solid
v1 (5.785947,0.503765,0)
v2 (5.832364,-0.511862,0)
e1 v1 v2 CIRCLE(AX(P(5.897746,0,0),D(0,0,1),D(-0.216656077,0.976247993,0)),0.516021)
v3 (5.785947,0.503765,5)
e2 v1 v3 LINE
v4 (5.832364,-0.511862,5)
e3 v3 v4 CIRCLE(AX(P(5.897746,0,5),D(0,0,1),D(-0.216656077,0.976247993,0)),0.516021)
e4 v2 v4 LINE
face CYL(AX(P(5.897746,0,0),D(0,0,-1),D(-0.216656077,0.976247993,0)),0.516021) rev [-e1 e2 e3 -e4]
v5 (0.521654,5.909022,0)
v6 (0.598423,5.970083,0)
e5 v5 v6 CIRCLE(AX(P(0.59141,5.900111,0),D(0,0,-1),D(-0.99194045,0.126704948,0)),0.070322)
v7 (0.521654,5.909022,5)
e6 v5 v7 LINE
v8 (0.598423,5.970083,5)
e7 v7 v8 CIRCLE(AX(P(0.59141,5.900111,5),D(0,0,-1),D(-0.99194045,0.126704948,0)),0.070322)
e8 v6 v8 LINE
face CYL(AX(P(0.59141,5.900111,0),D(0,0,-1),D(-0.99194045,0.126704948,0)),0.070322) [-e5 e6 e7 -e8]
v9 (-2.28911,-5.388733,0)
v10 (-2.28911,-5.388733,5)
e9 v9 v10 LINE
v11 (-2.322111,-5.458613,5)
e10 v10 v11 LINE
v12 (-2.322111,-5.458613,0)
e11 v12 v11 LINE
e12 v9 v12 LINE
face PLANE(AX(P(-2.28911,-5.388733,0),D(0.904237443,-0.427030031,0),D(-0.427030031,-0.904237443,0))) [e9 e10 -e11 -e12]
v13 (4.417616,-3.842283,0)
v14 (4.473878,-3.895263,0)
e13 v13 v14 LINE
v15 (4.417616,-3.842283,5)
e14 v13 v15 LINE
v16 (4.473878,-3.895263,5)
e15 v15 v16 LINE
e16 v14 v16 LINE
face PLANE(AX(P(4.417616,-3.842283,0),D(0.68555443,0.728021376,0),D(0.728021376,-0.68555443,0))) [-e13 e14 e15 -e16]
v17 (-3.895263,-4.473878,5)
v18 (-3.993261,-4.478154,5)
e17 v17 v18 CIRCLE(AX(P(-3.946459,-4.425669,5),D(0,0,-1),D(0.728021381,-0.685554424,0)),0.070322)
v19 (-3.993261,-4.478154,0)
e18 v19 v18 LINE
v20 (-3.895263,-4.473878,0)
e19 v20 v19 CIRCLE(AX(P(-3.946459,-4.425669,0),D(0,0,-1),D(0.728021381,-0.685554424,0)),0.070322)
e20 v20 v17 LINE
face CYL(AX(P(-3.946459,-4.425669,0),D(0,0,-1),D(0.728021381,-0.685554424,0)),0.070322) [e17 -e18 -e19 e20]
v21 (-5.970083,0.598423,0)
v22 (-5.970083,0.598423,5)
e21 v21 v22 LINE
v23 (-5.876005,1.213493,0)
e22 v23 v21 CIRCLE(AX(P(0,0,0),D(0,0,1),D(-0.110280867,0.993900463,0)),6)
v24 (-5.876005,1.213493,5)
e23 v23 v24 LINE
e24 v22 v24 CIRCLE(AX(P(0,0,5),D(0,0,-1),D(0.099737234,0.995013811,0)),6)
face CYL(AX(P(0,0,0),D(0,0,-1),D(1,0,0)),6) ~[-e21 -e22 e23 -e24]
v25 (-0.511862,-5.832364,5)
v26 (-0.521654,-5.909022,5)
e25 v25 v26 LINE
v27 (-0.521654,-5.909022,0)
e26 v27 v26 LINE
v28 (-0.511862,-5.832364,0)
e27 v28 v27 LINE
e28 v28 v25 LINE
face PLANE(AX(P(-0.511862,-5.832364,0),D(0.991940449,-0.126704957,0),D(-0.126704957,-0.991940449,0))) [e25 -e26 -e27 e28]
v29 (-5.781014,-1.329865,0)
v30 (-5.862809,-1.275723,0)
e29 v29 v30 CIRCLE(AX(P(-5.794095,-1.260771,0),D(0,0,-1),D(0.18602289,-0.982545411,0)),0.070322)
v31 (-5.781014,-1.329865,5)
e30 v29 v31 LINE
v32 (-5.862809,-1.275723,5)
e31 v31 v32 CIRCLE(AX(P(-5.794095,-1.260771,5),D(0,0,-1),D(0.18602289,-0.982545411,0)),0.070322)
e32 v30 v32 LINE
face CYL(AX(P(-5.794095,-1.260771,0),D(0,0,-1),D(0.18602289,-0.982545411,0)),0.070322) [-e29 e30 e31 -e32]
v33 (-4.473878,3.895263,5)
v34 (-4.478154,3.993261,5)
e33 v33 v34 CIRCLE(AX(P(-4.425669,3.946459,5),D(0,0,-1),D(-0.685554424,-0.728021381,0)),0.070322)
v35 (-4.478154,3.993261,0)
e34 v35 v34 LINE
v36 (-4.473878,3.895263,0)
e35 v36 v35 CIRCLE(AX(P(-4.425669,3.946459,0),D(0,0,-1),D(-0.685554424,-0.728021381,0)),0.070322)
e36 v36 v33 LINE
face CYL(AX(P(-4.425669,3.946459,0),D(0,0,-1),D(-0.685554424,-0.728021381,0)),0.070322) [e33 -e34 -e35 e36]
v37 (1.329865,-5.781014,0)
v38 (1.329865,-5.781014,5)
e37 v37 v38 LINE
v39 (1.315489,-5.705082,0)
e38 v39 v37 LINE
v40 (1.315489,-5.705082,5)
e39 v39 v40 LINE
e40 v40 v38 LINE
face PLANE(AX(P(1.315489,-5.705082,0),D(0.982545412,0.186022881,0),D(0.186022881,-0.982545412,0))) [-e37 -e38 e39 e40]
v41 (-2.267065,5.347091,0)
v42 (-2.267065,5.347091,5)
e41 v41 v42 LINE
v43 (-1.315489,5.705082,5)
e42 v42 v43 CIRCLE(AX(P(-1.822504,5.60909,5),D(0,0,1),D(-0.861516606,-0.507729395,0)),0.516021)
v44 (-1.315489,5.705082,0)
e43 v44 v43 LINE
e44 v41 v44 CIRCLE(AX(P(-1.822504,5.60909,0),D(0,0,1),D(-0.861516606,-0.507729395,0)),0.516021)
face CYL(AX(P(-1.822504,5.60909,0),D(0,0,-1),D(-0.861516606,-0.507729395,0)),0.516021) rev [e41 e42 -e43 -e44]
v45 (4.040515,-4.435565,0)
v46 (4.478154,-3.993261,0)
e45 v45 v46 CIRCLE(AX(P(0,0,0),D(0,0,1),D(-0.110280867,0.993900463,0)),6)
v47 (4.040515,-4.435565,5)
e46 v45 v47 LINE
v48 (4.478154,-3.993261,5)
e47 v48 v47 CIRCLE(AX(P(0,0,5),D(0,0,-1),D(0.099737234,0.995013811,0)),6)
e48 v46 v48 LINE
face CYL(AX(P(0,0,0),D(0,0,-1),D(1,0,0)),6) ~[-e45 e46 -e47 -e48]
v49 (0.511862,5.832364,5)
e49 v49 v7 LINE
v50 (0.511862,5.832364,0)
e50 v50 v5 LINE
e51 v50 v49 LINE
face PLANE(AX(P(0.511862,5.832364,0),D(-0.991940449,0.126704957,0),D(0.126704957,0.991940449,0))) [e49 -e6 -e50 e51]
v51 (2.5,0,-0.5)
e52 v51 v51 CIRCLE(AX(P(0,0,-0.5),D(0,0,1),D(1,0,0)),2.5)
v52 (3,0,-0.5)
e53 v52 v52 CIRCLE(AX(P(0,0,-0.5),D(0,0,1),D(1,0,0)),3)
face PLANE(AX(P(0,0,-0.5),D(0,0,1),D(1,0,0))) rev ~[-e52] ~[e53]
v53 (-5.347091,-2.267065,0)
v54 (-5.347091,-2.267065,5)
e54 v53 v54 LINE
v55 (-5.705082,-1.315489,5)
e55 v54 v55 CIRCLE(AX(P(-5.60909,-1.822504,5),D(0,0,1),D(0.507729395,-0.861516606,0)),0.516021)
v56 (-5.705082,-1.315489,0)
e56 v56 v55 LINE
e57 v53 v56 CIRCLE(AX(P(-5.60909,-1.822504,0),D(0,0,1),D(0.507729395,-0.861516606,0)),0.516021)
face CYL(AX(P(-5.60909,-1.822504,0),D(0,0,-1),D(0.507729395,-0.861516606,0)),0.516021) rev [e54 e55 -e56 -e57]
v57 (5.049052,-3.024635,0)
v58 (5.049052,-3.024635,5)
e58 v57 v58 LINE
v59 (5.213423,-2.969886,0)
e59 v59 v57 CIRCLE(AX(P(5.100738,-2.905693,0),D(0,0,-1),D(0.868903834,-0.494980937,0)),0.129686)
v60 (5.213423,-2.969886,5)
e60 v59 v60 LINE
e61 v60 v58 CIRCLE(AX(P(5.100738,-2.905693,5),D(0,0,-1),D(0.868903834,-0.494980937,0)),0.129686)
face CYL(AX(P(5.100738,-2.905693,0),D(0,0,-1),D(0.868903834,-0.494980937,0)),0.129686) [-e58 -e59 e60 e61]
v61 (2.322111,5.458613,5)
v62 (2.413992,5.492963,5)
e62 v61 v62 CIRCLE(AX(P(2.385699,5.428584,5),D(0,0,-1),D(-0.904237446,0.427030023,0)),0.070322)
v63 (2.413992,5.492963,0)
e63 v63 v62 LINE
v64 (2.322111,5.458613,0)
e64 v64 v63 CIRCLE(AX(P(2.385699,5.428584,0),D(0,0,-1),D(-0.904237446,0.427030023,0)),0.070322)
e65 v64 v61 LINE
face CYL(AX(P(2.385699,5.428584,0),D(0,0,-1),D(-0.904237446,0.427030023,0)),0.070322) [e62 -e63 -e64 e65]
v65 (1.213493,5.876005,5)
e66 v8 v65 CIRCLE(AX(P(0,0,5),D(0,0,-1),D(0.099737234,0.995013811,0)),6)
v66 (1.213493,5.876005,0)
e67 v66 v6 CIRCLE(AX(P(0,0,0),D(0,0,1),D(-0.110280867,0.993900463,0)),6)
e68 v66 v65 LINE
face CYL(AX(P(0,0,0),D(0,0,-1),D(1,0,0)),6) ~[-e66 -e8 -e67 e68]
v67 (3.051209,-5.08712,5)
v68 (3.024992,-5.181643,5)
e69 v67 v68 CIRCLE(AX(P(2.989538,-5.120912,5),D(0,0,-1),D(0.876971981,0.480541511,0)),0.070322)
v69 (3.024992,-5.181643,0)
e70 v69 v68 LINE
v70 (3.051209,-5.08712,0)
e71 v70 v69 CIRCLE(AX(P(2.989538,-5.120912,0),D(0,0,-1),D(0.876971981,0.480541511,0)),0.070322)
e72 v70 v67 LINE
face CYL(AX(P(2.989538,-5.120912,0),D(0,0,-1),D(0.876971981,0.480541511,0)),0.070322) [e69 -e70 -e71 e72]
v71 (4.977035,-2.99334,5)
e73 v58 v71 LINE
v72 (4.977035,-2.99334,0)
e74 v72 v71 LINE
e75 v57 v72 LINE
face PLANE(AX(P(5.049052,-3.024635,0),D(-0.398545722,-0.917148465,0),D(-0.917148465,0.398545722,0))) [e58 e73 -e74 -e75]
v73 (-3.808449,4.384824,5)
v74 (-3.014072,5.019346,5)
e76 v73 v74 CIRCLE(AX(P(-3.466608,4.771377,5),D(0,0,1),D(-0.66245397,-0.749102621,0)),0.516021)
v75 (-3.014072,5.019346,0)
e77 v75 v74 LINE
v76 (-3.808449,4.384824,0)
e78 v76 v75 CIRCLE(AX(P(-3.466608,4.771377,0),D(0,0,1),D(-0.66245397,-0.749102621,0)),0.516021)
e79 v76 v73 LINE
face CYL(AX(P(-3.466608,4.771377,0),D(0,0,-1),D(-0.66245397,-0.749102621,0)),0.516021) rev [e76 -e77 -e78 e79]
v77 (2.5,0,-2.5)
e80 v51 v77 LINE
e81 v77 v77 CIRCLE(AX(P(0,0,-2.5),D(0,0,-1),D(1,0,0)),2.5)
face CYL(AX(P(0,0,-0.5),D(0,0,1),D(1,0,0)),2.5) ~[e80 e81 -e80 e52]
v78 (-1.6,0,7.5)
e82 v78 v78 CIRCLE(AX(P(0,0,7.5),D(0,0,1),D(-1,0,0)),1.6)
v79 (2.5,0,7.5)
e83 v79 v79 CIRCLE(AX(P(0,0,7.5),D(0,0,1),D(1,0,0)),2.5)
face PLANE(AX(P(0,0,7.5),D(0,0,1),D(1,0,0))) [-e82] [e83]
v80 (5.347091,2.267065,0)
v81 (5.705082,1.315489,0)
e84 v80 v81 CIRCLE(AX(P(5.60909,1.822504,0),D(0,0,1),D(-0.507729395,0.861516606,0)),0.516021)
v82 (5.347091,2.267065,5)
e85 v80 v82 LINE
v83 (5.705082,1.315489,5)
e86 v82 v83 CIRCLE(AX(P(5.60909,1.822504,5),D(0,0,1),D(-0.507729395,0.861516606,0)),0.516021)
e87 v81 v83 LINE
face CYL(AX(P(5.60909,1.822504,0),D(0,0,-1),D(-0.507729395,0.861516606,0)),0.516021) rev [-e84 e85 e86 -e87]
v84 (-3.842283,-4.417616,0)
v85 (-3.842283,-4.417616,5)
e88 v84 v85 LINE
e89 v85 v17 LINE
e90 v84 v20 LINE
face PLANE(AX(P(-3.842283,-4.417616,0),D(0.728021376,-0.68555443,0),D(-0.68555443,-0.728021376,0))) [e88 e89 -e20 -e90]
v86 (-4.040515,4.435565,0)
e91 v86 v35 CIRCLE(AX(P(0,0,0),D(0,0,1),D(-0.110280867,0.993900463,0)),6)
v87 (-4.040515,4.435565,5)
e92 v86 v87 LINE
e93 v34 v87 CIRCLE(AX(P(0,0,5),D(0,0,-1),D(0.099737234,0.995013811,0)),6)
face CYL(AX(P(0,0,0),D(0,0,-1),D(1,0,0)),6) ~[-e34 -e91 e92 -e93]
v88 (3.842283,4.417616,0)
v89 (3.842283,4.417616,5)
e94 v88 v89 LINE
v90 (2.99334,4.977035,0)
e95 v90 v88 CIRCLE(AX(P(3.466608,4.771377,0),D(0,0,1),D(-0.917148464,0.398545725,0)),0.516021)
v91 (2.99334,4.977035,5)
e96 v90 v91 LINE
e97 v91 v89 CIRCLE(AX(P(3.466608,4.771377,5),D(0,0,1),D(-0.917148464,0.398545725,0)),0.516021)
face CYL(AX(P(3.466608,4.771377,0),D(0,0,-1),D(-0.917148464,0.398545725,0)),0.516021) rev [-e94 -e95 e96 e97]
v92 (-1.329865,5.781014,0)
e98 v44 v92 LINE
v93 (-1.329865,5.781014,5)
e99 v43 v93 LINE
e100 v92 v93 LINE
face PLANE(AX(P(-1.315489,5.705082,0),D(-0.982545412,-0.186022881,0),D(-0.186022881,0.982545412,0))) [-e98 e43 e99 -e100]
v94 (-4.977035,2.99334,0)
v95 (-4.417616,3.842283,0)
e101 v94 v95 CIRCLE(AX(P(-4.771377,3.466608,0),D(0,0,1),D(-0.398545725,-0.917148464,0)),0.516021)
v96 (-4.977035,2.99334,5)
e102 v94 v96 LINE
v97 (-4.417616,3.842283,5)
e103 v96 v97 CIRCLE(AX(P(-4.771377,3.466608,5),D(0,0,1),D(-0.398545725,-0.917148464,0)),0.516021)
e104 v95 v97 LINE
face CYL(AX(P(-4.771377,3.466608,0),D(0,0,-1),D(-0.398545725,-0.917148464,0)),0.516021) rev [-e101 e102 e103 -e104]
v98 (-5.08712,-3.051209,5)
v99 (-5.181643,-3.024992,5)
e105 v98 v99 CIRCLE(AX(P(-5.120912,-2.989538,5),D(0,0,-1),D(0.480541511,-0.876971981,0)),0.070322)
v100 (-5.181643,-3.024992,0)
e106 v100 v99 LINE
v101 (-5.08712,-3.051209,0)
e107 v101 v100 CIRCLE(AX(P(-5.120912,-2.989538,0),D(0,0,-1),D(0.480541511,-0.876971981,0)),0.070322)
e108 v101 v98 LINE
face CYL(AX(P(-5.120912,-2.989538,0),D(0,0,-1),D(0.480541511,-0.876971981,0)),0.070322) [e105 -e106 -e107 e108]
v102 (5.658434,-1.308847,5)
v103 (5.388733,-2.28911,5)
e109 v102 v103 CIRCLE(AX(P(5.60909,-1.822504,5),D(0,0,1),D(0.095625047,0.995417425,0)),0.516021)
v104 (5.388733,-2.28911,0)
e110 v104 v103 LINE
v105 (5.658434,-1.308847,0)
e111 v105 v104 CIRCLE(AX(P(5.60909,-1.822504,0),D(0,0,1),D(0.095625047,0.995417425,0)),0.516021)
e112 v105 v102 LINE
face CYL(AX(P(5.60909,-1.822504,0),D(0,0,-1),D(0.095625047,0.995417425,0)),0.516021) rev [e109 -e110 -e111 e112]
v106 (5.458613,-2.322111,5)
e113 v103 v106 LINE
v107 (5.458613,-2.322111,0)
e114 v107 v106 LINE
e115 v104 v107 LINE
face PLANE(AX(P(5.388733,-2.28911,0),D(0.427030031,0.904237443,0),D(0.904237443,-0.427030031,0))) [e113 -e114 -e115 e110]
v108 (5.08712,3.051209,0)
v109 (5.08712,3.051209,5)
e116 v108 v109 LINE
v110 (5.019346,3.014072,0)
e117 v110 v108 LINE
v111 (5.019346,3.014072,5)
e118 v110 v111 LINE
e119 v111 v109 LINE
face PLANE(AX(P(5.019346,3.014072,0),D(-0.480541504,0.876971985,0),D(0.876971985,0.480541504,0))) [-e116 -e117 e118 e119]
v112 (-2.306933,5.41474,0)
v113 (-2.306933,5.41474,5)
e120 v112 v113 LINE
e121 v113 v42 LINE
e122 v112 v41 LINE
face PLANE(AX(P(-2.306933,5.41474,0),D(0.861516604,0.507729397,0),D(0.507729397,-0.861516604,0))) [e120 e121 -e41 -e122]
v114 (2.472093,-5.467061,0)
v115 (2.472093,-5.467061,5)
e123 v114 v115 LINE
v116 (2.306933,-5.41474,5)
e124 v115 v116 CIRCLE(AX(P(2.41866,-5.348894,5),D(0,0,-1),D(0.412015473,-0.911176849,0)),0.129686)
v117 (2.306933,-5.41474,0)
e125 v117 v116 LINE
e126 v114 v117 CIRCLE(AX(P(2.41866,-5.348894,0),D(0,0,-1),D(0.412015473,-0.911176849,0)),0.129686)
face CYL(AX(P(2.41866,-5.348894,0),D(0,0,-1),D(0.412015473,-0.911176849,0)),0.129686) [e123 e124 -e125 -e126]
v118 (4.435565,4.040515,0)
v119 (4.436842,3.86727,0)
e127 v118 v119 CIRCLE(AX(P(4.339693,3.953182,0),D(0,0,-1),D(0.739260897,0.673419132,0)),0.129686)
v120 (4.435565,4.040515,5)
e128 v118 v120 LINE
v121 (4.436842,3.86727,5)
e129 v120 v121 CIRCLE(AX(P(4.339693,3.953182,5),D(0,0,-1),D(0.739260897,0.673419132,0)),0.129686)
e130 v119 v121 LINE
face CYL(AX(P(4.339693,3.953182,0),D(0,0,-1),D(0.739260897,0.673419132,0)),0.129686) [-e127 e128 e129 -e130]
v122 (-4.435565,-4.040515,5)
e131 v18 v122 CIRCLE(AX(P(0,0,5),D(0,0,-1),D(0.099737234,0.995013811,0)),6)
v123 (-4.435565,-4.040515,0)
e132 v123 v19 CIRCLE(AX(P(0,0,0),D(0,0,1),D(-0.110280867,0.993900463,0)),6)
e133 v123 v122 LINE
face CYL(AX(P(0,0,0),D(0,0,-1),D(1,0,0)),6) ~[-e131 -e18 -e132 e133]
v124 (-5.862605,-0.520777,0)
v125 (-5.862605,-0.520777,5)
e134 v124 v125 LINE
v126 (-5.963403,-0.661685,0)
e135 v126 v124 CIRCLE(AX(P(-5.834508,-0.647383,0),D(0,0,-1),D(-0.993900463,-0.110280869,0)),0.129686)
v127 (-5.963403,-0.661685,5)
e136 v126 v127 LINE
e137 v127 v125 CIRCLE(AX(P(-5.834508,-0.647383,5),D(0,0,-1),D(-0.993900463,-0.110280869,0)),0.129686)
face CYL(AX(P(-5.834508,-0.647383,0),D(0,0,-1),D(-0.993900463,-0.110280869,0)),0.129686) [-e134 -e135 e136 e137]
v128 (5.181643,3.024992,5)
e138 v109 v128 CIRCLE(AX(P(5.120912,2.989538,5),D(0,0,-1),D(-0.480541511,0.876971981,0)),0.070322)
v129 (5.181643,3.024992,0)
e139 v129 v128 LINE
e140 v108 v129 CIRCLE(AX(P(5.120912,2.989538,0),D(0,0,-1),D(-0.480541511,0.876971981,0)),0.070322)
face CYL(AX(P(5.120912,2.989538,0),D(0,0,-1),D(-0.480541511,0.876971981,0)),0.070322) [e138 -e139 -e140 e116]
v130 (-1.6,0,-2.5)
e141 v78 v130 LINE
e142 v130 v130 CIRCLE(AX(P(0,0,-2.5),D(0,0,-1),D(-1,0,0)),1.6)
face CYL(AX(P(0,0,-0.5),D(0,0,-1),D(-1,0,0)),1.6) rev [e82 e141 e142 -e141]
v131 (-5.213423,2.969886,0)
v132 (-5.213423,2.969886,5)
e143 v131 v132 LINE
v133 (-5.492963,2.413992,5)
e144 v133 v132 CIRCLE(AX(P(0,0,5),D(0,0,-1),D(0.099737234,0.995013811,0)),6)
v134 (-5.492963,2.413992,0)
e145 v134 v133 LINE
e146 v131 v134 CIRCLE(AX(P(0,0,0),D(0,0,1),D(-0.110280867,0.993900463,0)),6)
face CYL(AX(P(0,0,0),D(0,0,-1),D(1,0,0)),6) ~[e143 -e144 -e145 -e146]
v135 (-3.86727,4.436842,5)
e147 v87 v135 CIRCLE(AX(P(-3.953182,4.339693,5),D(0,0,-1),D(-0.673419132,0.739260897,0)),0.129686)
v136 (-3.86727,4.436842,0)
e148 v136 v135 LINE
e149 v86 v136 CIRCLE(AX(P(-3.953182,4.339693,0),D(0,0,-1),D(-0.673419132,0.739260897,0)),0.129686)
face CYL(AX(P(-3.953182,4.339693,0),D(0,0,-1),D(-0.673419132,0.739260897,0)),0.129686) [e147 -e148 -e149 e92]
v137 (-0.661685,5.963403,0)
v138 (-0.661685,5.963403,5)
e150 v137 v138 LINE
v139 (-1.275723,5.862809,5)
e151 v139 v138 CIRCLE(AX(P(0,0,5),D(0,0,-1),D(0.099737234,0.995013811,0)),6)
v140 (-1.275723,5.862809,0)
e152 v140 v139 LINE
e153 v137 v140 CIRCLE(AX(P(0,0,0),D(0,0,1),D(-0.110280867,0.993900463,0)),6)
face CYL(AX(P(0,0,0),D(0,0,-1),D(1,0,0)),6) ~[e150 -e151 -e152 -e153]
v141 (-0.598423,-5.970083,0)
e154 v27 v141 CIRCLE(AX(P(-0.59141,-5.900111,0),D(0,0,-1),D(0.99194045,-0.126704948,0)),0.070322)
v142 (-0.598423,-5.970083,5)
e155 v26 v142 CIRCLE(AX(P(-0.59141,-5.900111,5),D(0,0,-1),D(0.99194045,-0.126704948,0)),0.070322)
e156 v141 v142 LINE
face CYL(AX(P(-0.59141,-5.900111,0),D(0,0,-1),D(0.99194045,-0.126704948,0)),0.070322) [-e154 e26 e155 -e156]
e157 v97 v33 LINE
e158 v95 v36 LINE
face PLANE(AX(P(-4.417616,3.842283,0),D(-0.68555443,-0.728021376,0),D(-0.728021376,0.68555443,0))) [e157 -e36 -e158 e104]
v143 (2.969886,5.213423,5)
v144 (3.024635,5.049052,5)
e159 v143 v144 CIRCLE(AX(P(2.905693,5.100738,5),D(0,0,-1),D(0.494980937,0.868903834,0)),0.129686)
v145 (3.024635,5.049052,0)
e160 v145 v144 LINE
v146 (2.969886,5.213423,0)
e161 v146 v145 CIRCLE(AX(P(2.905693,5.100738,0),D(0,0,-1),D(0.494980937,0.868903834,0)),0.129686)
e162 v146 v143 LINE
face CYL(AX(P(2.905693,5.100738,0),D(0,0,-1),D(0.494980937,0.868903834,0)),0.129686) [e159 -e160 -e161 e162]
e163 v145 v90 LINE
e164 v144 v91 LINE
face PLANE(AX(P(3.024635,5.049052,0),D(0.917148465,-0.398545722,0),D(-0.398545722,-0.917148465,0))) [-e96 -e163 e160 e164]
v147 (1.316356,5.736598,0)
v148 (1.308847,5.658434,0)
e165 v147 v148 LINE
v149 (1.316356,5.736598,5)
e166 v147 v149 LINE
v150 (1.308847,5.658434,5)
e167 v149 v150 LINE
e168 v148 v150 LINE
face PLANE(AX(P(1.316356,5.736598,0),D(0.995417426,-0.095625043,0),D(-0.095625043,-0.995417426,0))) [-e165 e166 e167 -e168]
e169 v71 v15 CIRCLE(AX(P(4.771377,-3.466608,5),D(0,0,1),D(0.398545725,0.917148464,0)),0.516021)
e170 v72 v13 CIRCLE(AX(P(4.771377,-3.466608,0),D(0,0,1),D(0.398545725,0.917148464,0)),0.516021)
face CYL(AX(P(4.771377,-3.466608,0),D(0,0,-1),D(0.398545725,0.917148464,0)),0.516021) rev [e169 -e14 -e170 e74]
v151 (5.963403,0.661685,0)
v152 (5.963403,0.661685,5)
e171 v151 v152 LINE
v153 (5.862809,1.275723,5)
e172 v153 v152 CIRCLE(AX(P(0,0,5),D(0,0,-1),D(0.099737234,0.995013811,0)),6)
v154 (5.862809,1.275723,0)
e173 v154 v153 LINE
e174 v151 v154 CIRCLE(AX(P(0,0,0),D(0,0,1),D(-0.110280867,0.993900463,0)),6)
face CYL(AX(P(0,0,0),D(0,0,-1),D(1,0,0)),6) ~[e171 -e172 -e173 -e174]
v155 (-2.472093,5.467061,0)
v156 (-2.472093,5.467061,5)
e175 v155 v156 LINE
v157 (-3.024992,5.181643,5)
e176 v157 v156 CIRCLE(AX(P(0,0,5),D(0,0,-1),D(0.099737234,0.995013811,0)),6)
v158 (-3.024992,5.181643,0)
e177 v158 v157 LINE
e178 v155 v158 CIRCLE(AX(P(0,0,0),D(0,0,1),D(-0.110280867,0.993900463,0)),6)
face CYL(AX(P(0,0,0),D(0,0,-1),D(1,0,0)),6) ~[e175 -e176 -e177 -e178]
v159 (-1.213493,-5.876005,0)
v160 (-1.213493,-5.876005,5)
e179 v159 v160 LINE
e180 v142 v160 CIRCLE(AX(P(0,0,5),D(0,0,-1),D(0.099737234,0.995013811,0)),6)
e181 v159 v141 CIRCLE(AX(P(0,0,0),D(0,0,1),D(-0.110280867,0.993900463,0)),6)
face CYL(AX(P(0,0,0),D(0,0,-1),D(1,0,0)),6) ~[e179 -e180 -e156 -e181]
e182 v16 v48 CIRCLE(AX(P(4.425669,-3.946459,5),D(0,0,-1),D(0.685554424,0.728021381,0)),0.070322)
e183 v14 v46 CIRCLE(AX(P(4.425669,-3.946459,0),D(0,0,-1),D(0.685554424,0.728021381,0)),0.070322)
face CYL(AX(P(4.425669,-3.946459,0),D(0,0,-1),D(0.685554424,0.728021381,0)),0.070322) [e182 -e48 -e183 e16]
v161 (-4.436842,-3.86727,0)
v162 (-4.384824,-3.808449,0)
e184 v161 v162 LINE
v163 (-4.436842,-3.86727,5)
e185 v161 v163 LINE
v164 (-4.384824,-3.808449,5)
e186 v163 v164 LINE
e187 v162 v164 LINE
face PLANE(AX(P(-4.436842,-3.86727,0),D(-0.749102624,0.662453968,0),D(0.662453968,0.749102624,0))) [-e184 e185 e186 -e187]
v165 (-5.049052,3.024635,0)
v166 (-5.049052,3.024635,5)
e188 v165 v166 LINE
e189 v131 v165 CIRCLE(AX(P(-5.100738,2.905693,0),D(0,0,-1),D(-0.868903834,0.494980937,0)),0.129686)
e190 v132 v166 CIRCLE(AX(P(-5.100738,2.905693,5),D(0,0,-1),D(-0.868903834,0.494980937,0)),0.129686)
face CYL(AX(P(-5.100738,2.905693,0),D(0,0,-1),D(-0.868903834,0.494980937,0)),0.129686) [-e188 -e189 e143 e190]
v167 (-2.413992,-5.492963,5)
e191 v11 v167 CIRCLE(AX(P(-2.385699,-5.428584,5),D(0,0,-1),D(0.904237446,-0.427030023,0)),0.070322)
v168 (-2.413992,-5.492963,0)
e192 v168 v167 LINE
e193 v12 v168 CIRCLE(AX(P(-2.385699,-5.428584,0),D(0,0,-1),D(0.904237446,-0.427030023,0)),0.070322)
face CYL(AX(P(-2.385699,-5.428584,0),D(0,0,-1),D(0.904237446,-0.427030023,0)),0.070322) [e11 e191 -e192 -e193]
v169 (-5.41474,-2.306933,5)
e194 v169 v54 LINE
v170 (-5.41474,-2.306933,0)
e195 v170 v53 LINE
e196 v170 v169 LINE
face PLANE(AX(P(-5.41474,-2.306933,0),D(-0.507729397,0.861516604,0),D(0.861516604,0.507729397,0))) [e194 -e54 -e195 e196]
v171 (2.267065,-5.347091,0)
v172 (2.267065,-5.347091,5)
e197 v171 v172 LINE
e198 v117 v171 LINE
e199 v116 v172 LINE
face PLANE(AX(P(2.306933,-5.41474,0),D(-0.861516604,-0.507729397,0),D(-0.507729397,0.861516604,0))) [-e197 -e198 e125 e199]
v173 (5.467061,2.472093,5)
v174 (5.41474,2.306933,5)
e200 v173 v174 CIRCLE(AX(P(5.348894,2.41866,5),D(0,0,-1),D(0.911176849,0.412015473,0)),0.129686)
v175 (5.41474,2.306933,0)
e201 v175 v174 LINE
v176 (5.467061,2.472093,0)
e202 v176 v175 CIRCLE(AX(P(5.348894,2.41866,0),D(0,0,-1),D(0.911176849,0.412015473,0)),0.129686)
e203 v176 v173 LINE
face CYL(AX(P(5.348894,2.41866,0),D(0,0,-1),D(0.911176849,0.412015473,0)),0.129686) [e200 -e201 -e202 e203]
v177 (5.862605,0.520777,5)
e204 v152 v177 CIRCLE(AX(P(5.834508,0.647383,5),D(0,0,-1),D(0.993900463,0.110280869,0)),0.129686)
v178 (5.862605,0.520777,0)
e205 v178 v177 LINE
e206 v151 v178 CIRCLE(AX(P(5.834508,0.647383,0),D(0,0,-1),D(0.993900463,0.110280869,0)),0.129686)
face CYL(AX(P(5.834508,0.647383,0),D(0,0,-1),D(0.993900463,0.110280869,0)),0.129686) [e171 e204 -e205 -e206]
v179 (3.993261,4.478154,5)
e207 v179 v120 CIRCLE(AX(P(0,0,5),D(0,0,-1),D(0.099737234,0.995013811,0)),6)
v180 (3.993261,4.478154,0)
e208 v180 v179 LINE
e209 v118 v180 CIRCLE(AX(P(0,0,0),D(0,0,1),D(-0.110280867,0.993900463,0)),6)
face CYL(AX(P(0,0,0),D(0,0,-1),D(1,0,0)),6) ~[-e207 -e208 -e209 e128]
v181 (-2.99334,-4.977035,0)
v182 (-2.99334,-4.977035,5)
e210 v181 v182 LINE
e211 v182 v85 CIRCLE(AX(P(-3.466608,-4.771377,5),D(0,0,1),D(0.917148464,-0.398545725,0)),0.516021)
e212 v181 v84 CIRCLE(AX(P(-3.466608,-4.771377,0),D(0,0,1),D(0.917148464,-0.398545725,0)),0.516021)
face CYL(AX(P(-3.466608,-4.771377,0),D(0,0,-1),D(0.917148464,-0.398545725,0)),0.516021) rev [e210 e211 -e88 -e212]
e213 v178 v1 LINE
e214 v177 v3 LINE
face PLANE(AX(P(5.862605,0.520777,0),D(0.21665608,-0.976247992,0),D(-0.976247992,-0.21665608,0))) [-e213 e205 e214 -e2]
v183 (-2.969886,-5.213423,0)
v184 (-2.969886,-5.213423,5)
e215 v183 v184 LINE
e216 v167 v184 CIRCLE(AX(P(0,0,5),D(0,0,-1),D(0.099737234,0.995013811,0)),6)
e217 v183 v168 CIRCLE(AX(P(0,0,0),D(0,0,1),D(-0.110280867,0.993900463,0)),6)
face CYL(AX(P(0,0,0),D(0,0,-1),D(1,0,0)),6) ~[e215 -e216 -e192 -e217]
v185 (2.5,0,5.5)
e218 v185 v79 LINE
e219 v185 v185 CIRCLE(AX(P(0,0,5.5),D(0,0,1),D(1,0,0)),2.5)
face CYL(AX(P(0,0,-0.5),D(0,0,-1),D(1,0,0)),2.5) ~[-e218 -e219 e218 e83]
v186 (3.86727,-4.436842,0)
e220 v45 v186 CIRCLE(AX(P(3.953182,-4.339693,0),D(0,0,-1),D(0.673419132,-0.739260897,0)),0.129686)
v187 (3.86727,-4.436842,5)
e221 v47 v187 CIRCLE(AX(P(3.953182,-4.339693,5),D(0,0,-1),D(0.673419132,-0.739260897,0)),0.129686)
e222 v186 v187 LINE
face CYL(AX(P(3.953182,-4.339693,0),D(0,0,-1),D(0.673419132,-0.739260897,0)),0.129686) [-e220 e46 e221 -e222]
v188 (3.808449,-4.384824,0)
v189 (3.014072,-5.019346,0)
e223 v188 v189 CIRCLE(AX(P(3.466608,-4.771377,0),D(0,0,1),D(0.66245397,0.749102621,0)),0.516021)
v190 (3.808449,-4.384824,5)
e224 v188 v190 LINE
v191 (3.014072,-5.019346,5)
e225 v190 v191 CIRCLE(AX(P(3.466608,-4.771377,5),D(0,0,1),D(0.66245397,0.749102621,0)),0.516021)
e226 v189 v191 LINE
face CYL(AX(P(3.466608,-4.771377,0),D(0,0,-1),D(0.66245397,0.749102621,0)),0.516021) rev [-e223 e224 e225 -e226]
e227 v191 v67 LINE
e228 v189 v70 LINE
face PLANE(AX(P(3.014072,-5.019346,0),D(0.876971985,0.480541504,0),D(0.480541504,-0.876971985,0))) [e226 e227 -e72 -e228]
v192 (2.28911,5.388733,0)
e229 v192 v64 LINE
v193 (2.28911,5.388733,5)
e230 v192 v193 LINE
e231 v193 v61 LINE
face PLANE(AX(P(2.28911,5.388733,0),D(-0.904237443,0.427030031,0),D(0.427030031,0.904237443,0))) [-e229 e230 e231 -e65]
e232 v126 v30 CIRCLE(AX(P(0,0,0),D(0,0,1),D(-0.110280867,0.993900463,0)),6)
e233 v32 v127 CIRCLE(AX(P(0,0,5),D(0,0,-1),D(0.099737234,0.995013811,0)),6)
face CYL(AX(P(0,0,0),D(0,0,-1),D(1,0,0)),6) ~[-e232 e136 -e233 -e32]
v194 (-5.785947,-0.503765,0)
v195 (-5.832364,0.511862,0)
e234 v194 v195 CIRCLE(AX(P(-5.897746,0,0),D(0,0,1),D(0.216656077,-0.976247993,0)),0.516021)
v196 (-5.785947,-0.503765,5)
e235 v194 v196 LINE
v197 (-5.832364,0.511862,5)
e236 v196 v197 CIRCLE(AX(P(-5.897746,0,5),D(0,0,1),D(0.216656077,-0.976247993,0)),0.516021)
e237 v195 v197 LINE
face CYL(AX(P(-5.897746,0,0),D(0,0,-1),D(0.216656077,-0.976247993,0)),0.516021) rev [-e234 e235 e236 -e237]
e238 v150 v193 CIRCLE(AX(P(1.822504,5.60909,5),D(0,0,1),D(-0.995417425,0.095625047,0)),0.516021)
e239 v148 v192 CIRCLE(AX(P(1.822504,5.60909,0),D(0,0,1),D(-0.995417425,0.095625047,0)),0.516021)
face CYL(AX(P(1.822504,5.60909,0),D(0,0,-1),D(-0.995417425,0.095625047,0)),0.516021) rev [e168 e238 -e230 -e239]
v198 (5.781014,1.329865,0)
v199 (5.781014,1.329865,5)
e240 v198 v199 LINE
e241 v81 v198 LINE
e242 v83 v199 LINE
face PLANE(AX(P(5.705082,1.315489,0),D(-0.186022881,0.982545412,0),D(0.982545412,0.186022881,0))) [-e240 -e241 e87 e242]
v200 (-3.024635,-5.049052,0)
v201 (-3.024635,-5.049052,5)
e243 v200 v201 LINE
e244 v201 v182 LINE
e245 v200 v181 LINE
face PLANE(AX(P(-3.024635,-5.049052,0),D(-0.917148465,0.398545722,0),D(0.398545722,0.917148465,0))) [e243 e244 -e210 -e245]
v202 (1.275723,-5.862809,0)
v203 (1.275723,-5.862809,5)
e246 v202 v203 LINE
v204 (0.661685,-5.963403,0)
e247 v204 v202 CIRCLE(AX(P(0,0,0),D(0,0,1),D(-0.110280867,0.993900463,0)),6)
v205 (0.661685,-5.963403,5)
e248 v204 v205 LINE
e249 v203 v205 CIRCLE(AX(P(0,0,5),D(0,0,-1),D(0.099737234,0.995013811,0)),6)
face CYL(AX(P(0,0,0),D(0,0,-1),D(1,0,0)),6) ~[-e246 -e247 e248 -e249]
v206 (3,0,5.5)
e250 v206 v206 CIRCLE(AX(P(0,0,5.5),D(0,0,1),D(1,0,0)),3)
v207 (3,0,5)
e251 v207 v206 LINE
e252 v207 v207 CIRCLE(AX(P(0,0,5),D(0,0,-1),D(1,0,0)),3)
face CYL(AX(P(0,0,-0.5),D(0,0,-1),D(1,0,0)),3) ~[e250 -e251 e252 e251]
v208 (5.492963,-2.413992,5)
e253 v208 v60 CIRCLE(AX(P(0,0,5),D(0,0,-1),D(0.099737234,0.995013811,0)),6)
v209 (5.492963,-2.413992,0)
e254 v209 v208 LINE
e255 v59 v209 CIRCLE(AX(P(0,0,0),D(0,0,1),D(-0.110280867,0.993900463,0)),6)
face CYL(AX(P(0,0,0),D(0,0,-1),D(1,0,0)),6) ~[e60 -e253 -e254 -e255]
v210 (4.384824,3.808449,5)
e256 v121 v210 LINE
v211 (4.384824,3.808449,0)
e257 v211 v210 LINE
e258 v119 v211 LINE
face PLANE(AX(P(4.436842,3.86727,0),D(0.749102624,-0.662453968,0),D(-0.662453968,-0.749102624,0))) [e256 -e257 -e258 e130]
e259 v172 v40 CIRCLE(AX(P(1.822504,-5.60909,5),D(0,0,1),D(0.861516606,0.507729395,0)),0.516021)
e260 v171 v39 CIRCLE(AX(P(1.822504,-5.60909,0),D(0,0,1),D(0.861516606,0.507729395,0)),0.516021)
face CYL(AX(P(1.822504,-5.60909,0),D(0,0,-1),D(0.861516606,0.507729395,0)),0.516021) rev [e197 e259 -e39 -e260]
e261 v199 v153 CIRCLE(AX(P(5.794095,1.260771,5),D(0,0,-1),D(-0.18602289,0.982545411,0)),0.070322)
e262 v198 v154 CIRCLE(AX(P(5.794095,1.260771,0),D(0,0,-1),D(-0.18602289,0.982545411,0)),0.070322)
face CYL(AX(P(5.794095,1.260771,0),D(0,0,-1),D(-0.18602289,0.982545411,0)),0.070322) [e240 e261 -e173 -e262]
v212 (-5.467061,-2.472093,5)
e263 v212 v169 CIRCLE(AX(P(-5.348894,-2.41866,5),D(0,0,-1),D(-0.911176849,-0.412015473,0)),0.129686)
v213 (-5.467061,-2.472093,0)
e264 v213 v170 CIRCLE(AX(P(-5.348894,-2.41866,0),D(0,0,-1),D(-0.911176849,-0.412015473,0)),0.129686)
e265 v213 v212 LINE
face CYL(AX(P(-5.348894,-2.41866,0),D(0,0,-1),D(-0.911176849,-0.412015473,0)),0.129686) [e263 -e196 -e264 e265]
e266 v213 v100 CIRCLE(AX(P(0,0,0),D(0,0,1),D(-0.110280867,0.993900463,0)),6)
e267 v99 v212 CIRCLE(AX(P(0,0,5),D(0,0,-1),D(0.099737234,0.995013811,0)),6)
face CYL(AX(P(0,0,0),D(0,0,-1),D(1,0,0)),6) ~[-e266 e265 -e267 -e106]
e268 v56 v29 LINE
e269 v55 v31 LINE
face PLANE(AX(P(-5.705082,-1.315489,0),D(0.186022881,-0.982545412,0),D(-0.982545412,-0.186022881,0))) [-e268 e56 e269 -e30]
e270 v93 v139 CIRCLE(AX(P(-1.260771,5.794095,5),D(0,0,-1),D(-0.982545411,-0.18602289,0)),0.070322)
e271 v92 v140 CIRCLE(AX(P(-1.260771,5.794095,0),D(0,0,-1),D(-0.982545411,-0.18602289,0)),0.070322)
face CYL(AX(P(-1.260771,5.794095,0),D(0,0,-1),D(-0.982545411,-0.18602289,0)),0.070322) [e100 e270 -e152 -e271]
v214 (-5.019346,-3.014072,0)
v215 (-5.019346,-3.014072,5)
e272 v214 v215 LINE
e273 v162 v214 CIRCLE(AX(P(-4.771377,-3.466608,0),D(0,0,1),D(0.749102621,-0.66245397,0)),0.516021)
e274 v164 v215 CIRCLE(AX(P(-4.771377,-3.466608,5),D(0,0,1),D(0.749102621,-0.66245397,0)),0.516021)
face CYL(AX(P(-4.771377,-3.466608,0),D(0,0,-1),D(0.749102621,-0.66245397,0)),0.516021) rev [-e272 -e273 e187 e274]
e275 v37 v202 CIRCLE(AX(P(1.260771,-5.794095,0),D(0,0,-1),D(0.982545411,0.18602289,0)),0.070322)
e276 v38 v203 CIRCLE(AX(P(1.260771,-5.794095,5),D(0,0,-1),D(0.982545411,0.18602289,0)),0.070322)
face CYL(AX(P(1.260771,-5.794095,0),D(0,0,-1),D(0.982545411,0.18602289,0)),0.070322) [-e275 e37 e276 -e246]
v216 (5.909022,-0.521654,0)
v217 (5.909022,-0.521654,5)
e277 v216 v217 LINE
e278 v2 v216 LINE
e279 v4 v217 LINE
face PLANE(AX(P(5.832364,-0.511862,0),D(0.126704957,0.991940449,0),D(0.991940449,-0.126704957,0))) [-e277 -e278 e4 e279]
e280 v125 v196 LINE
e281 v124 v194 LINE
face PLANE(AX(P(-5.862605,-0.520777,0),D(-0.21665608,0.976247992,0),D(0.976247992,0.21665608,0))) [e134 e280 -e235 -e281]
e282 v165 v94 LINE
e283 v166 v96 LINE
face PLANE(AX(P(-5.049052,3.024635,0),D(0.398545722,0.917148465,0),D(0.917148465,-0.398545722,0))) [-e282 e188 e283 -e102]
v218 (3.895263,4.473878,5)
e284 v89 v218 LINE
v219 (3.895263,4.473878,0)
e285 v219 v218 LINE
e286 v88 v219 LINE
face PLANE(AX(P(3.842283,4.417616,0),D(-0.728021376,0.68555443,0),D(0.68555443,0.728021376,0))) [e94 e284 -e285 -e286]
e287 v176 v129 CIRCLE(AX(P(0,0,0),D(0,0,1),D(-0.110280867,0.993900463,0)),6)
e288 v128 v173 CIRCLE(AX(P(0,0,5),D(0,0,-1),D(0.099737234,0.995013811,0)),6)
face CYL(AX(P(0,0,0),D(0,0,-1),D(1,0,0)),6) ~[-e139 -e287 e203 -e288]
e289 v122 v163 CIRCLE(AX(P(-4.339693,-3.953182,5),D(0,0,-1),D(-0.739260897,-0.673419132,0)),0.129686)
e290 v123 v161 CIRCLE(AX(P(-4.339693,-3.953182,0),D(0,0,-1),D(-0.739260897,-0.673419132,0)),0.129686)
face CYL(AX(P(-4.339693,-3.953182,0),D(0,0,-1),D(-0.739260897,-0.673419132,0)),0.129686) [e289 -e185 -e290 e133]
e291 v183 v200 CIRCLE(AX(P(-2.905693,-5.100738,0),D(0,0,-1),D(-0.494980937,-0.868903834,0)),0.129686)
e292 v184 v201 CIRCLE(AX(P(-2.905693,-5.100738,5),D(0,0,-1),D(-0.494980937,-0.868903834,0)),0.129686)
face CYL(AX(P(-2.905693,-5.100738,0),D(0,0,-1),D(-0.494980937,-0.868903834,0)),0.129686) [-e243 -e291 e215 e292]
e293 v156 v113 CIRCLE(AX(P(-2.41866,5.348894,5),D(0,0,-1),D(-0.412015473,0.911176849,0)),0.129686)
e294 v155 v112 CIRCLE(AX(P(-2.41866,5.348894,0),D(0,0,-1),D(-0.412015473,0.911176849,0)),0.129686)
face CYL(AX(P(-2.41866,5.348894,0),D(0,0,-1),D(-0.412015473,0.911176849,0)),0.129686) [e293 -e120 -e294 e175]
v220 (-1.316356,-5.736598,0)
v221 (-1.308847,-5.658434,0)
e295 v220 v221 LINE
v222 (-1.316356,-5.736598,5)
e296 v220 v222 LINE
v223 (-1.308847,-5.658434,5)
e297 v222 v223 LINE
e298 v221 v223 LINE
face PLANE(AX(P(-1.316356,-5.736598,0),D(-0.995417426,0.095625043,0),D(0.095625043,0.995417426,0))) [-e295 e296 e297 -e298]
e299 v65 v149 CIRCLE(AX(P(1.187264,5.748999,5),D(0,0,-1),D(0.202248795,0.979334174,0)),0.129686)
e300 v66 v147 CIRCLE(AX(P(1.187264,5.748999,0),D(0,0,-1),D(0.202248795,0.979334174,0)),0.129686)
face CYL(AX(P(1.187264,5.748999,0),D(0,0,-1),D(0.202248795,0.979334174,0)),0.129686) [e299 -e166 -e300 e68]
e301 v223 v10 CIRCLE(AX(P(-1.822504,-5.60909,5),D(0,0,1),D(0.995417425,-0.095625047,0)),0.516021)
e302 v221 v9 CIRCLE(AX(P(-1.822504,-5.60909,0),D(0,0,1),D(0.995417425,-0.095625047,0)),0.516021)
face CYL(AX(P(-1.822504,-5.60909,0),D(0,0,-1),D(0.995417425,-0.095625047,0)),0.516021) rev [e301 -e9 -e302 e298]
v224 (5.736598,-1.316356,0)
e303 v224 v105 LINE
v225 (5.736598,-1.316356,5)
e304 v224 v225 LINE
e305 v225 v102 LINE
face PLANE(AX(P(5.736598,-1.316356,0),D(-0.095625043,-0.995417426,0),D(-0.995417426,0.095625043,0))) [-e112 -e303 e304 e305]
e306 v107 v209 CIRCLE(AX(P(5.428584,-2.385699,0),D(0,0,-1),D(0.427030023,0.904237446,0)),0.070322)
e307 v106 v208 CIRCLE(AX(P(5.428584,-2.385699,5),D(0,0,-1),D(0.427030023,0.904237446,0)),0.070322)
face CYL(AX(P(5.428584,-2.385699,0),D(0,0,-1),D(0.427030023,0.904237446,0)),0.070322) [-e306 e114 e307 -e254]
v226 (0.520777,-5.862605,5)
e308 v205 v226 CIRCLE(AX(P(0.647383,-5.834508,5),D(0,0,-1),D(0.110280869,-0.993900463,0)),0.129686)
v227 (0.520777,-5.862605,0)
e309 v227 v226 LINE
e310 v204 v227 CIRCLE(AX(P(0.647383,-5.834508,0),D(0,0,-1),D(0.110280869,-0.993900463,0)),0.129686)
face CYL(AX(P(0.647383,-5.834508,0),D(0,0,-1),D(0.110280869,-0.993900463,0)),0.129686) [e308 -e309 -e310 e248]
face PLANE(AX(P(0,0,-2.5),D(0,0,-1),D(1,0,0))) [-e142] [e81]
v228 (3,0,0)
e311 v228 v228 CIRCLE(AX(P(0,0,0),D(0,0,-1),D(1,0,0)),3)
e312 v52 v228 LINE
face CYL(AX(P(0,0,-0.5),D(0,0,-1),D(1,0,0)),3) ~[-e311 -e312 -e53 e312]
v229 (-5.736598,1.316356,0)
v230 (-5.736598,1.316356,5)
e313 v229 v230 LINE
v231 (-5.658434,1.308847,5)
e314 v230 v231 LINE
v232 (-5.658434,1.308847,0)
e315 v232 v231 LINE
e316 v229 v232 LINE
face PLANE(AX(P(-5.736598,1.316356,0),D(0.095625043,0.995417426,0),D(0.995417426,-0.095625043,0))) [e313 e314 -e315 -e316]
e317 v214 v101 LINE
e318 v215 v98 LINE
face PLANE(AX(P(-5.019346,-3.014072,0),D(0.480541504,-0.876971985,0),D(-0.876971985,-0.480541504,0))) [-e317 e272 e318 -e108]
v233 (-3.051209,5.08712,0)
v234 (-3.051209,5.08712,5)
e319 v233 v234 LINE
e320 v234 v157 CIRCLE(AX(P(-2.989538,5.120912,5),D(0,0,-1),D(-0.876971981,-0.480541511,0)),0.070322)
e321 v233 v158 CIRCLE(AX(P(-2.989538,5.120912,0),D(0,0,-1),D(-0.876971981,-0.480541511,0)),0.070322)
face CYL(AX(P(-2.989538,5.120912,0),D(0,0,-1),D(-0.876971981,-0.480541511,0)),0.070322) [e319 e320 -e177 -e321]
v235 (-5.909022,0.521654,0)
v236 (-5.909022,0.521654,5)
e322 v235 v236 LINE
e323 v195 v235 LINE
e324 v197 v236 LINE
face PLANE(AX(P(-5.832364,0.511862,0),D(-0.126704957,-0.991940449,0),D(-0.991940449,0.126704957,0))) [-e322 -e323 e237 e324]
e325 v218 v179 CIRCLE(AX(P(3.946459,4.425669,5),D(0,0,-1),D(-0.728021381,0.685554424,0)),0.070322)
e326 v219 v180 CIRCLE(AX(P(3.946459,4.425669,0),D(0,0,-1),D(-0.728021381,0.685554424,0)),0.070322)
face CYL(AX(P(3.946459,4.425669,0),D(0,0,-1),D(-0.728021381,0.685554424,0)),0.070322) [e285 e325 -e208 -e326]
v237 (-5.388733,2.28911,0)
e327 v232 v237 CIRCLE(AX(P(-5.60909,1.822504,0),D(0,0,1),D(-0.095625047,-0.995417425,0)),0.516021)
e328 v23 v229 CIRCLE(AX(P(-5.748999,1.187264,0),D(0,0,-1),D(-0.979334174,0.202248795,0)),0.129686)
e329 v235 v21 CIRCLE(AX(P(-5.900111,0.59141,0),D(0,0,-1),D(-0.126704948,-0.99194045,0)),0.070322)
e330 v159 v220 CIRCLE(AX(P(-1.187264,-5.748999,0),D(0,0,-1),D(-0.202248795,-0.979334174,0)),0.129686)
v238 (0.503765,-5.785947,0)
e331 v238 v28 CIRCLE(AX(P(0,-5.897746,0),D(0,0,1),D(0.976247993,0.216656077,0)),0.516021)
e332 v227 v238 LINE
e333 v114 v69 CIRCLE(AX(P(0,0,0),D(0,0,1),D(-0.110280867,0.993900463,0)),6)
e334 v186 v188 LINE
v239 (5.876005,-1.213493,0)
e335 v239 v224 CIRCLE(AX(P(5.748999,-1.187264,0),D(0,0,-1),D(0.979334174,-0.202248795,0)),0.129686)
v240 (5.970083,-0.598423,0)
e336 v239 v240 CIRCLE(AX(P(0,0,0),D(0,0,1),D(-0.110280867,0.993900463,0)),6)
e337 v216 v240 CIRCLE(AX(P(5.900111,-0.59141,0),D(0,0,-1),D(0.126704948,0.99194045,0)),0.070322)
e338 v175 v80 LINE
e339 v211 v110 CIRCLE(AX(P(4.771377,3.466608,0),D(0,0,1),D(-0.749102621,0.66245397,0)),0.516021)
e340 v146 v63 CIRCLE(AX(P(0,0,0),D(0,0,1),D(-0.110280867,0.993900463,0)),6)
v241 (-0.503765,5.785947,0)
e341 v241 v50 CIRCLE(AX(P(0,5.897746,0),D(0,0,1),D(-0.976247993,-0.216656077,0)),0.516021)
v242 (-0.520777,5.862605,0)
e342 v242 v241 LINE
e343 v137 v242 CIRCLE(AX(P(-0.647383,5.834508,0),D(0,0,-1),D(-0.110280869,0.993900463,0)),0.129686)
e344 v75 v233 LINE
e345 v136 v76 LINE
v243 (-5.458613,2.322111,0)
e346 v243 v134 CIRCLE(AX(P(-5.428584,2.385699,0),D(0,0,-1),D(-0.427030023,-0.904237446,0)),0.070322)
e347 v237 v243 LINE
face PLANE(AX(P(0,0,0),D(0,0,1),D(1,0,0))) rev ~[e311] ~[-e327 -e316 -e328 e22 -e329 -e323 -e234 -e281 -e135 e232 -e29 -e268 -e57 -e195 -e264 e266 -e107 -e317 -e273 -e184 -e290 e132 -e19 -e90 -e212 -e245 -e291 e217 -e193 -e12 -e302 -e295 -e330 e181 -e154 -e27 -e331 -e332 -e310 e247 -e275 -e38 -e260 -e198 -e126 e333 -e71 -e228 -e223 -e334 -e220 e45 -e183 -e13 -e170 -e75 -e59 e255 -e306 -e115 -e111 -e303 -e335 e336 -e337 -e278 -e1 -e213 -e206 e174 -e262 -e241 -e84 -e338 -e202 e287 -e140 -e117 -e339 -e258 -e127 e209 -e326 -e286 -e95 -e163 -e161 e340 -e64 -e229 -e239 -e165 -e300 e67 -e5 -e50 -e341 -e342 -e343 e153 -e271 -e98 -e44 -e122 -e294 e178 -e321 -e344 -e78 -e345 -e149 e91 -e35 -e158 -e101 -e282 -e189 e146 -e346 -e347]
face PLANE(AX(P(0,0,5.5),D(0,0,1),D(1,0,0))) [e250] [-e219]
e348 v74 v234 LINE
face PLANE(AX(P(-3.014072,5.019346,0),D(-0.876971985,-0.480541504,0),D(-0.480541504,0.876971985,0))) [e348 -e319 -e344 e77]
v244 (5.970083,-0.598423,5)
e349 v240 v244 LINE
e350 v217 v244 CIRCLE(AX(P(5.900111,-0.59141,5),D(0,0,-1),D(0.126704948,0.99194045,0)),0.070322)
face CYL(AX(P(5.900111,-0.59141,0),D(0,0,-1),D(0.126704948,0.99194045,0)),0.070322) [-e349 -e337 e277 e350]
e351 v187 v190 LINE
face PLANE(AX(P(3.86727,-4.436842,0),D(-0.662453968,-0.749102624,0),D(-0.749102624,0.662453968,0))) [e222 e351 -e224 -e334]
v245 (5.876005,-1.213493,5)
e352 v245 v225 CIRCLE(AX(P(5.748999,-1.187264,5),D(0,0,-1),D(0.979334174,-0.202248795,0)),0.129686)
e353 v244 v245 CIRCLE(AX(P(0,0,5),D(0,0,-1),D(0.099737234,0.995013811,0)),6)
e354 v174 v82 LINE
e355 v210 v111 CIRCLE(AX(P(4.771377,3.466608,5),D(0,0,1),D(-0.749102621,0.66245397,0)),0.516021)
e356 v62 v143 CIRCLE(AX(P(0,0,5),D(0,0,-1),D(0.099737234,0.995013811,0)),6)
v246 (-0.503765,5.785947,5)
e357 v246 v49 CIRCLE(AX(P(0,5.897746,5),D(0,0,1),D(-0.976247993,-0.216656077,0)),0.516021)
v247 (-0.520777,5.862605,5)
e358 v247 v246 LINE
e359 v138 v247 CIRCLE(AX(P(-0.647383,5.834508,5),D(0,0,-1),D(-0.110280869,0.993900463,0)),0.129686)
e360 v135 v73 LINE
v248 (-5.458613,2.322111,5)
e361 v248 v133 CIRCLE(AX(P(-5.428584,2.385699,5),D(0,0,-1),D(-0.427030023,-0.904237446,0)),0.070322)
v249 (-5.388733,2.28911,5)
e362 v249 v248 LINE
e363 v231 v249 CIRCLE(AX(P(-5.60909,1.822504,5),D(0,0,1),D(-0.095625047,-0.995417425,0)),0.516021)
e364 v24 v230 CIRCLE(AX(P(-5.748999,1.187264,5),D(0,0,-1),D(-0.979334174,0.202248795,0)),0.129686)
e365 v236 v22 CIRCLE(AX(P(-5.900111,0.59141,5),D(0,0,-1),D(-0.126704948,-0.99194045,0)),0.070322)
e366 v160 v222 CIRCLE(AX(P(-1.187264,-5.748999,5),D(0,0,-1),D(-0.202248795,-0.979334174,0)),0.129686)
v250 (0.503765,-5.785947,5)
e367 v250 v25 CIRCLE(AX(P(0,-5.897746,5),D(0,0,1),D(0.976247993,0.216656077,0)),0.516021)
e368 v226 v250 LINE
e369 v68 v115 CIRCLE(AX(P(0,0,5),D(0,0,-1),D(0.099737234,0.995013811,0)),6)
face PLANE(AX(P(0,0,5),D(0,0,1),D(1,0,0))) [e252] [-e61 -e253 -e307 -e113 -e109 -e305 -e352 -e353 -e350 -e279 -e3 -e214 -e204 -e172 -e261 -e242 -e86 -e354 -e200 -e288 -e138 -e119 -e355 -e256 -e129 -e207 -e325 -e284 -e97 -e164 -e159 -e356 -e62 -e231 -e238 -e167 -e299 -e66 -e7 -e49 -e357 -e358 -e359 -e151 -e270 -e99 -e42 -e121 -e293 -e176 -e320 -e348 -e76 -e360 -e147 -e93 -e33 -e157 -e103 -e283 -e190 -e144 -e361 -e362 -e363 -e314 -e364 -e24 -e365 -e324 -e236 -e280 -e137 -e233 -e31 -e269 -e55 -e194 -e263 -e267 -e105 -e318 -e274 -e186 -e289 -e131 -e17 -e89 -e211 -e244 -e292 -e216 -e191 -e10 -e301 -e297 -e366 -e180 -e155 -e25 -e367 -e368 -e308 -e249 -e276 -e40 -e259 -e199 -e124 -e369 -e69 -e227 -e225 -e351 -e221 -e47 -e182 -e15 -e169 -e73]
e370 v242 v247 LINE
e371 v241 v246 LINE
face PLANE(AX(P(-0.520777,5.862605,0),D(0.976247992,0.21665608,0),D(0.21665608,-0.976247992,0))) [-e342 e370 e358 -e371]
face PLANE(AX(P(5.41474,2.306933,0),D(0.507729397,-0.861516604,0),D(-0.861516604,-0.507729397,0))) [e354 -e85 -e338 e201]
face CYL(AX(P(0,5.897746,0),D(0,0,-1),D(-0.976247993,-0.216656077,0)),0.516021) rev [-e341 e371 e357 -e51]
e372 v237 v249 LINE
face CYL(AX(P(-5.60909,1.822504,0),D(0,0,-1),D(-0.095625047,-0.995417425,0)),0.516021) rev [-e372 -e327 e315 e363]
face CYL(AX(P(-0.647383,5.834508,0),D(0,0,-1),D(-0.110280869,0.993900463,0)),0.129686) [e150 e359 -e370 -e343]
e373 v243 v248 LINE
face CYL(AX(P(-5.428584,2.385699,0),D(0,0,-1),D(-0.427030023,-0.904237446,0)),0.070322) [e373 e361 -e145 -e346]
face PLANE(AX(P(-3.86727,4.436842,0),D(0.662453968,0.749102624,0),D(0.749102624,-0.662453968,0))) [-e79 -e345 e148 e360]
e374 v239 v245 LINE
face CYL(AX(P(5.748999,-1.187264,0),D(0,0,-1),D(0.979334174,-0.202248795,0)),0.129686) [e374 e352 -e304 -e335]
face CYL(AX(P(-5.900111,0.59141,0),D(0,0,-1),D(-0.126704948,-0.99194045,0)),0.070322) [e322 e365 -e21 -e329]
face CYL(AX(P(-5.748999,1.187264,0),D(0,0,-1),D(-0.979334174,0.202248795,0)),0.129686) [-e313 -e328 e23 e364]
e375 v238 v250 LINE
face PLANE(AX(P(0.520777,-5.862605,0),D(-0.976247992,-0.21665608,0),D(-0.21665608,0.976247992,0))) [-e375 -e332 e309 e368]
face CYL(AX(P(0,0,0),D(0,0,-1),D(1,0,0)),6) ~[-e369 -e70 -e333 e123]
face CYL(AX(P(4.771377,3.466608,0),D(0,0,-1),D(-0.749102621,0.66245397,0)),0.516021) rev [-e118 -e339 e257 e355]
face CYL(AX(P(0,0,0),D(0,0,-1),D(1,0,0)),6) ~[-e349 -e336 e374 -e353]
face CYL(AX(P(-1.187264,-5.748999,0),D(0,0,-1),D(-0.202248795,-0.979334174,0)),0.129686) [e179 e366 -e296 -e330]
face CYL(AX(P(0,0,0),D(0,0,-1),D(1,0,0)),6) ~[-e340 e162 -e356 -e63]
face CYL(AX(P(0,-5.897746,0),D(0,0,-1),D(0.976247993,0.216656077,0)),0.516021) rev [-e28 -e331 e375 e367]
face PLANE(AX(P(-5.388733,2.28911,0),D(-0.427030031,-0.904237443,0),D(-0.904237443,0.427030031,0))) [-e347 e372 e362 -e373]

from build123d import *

# Parameters (mm, degrees)
SKETCH_1_R               = 6
SKETCH_1_R_2             = 2.5
EXTRUDE_1_DEPTH          = 5
CUT_EXTRUDE_START        = -5
CUT_EXTRUDE_1_DEPTH      = 5
PATTERN_CIRCULAR_1_COUNT = 20
EXTRUDE_START            = -5.5
SKETCH_3_R               = 3
SKETCH_3_R_2             = 2.5
EXTRUDE_2_DEPTH          = 6
SKETCH_4_R               = 2.5
SKETCH_4_R_2             = 1.6
EXTRUDE_3_DEPTH          = 2
SKETCH_5_R               = 2.5
SKETCH_5_R_2             = 1.6
EXTRUDE_4_DEPTH          = 8


with BuildPart() as part:
    # 草图1 → 凸台-拉伸1 (new body)
    with BuildSketch(Plane.XY):
        Circle(SKETCH_1_R)
        Circle(SKETCH_1_R_2, mode=Mode.SUBTRACT)
    extrude(amount=EXTRUDE_1_DEPTH)

    # 草图2 → 切除-拉伸1 (cut)
    with BuildSketch(Plane.XY.offset(5).offset(CUT_EXTRUDE_START)):
        with BuildLine():
            Line((0.511862463, 5.832363511), (0.521654336, 5.909021561))
            ThreePointArc((0.521654336, 5.909021561), (0.547634704, 5.955147301), (0.598423406, 5.970082866))
            ThreePointArc((0.598423406, 5.970082866), (-0.031806753, 5.999915694), (-0.661685201, 5.963402778))
            ThreePointArc((-0.661685201, 5.963402778), (-0.571930624, 5.939984659), (-0.520777334, 5.862604859))
            Line((-0.520777334, 5.862604859), (-0.50376482, 5.785946809))
            ThreePointArc((-0.50376482, 5.785946809), (0.023558873, 5.382262679), (0.511862463, 5.832363511))
        make_face()
    cut_extrude_1 = extrude(amount=CUT_EXTRUDE_1_DEPTH, mode=Mode.SUBTRACT)

    # 阵列(圆周)1: 切除-拉伸1 ×20 about axis
    pattern_circular_1_axis = Axis((0, 0, 0), (0, 0, 1))
    for i in range(1, PATTERN_CIRCULAR_1_COUNT):
        add(cut_extrude_1.rotate(pattern_circular_1_axis, i * 360 / PATTERN_CIRCULAR_1_COUNT), mode=Mode.SUBTRACT)

    # 草图3 → 凸台-拉伸2 (add)
    with BuildSketch(Plane.XY.offset(5).offset(EXTRUDE_START)):
        Circle(SKETCH_3_R)
        Circle(SKETCH_3_R_2, mode=Mode.SUBTRACT)
    extrude(amount=EXTRUDE_2_DEPTH)



with BuildPart() as body_2:
    # 草图4 → 凸台-拉伸3 (new body)
    with BuildSketch(Plane(origin=(0, 0, -0.5), x_dir=(-1, 0, 0), z_dir=(0, 0, -1))):
        with Locations(Location((0, 0, 0), (0, 0, 180))):
            Circle(SKETCH_4_R)
        Circle(SKETCH_4_R_2, mode=Mode.SUBTRACT)
    extrude(amount=EXTRUDE_3_DEPTH)


with BuildPart() as part_1:
    add(part.part)

    add(body_2.part)  # 凸台-拉伸4 merges body 2
    # 草图5 → 凸台-拉伸4 (add)
    with BuildSketch(Plane.XY.offset(-0.5)):
        Circle(SKETCH_5_R)
        with Locations(Location((0, 0, 0), (0, 0, 180))):
            Circle(SKETCH_5_R_2, mode=Mode.SUBTRACT)
    extrude(amount=EXTRUDE_4_DEPTH)


solid = part_1.part
